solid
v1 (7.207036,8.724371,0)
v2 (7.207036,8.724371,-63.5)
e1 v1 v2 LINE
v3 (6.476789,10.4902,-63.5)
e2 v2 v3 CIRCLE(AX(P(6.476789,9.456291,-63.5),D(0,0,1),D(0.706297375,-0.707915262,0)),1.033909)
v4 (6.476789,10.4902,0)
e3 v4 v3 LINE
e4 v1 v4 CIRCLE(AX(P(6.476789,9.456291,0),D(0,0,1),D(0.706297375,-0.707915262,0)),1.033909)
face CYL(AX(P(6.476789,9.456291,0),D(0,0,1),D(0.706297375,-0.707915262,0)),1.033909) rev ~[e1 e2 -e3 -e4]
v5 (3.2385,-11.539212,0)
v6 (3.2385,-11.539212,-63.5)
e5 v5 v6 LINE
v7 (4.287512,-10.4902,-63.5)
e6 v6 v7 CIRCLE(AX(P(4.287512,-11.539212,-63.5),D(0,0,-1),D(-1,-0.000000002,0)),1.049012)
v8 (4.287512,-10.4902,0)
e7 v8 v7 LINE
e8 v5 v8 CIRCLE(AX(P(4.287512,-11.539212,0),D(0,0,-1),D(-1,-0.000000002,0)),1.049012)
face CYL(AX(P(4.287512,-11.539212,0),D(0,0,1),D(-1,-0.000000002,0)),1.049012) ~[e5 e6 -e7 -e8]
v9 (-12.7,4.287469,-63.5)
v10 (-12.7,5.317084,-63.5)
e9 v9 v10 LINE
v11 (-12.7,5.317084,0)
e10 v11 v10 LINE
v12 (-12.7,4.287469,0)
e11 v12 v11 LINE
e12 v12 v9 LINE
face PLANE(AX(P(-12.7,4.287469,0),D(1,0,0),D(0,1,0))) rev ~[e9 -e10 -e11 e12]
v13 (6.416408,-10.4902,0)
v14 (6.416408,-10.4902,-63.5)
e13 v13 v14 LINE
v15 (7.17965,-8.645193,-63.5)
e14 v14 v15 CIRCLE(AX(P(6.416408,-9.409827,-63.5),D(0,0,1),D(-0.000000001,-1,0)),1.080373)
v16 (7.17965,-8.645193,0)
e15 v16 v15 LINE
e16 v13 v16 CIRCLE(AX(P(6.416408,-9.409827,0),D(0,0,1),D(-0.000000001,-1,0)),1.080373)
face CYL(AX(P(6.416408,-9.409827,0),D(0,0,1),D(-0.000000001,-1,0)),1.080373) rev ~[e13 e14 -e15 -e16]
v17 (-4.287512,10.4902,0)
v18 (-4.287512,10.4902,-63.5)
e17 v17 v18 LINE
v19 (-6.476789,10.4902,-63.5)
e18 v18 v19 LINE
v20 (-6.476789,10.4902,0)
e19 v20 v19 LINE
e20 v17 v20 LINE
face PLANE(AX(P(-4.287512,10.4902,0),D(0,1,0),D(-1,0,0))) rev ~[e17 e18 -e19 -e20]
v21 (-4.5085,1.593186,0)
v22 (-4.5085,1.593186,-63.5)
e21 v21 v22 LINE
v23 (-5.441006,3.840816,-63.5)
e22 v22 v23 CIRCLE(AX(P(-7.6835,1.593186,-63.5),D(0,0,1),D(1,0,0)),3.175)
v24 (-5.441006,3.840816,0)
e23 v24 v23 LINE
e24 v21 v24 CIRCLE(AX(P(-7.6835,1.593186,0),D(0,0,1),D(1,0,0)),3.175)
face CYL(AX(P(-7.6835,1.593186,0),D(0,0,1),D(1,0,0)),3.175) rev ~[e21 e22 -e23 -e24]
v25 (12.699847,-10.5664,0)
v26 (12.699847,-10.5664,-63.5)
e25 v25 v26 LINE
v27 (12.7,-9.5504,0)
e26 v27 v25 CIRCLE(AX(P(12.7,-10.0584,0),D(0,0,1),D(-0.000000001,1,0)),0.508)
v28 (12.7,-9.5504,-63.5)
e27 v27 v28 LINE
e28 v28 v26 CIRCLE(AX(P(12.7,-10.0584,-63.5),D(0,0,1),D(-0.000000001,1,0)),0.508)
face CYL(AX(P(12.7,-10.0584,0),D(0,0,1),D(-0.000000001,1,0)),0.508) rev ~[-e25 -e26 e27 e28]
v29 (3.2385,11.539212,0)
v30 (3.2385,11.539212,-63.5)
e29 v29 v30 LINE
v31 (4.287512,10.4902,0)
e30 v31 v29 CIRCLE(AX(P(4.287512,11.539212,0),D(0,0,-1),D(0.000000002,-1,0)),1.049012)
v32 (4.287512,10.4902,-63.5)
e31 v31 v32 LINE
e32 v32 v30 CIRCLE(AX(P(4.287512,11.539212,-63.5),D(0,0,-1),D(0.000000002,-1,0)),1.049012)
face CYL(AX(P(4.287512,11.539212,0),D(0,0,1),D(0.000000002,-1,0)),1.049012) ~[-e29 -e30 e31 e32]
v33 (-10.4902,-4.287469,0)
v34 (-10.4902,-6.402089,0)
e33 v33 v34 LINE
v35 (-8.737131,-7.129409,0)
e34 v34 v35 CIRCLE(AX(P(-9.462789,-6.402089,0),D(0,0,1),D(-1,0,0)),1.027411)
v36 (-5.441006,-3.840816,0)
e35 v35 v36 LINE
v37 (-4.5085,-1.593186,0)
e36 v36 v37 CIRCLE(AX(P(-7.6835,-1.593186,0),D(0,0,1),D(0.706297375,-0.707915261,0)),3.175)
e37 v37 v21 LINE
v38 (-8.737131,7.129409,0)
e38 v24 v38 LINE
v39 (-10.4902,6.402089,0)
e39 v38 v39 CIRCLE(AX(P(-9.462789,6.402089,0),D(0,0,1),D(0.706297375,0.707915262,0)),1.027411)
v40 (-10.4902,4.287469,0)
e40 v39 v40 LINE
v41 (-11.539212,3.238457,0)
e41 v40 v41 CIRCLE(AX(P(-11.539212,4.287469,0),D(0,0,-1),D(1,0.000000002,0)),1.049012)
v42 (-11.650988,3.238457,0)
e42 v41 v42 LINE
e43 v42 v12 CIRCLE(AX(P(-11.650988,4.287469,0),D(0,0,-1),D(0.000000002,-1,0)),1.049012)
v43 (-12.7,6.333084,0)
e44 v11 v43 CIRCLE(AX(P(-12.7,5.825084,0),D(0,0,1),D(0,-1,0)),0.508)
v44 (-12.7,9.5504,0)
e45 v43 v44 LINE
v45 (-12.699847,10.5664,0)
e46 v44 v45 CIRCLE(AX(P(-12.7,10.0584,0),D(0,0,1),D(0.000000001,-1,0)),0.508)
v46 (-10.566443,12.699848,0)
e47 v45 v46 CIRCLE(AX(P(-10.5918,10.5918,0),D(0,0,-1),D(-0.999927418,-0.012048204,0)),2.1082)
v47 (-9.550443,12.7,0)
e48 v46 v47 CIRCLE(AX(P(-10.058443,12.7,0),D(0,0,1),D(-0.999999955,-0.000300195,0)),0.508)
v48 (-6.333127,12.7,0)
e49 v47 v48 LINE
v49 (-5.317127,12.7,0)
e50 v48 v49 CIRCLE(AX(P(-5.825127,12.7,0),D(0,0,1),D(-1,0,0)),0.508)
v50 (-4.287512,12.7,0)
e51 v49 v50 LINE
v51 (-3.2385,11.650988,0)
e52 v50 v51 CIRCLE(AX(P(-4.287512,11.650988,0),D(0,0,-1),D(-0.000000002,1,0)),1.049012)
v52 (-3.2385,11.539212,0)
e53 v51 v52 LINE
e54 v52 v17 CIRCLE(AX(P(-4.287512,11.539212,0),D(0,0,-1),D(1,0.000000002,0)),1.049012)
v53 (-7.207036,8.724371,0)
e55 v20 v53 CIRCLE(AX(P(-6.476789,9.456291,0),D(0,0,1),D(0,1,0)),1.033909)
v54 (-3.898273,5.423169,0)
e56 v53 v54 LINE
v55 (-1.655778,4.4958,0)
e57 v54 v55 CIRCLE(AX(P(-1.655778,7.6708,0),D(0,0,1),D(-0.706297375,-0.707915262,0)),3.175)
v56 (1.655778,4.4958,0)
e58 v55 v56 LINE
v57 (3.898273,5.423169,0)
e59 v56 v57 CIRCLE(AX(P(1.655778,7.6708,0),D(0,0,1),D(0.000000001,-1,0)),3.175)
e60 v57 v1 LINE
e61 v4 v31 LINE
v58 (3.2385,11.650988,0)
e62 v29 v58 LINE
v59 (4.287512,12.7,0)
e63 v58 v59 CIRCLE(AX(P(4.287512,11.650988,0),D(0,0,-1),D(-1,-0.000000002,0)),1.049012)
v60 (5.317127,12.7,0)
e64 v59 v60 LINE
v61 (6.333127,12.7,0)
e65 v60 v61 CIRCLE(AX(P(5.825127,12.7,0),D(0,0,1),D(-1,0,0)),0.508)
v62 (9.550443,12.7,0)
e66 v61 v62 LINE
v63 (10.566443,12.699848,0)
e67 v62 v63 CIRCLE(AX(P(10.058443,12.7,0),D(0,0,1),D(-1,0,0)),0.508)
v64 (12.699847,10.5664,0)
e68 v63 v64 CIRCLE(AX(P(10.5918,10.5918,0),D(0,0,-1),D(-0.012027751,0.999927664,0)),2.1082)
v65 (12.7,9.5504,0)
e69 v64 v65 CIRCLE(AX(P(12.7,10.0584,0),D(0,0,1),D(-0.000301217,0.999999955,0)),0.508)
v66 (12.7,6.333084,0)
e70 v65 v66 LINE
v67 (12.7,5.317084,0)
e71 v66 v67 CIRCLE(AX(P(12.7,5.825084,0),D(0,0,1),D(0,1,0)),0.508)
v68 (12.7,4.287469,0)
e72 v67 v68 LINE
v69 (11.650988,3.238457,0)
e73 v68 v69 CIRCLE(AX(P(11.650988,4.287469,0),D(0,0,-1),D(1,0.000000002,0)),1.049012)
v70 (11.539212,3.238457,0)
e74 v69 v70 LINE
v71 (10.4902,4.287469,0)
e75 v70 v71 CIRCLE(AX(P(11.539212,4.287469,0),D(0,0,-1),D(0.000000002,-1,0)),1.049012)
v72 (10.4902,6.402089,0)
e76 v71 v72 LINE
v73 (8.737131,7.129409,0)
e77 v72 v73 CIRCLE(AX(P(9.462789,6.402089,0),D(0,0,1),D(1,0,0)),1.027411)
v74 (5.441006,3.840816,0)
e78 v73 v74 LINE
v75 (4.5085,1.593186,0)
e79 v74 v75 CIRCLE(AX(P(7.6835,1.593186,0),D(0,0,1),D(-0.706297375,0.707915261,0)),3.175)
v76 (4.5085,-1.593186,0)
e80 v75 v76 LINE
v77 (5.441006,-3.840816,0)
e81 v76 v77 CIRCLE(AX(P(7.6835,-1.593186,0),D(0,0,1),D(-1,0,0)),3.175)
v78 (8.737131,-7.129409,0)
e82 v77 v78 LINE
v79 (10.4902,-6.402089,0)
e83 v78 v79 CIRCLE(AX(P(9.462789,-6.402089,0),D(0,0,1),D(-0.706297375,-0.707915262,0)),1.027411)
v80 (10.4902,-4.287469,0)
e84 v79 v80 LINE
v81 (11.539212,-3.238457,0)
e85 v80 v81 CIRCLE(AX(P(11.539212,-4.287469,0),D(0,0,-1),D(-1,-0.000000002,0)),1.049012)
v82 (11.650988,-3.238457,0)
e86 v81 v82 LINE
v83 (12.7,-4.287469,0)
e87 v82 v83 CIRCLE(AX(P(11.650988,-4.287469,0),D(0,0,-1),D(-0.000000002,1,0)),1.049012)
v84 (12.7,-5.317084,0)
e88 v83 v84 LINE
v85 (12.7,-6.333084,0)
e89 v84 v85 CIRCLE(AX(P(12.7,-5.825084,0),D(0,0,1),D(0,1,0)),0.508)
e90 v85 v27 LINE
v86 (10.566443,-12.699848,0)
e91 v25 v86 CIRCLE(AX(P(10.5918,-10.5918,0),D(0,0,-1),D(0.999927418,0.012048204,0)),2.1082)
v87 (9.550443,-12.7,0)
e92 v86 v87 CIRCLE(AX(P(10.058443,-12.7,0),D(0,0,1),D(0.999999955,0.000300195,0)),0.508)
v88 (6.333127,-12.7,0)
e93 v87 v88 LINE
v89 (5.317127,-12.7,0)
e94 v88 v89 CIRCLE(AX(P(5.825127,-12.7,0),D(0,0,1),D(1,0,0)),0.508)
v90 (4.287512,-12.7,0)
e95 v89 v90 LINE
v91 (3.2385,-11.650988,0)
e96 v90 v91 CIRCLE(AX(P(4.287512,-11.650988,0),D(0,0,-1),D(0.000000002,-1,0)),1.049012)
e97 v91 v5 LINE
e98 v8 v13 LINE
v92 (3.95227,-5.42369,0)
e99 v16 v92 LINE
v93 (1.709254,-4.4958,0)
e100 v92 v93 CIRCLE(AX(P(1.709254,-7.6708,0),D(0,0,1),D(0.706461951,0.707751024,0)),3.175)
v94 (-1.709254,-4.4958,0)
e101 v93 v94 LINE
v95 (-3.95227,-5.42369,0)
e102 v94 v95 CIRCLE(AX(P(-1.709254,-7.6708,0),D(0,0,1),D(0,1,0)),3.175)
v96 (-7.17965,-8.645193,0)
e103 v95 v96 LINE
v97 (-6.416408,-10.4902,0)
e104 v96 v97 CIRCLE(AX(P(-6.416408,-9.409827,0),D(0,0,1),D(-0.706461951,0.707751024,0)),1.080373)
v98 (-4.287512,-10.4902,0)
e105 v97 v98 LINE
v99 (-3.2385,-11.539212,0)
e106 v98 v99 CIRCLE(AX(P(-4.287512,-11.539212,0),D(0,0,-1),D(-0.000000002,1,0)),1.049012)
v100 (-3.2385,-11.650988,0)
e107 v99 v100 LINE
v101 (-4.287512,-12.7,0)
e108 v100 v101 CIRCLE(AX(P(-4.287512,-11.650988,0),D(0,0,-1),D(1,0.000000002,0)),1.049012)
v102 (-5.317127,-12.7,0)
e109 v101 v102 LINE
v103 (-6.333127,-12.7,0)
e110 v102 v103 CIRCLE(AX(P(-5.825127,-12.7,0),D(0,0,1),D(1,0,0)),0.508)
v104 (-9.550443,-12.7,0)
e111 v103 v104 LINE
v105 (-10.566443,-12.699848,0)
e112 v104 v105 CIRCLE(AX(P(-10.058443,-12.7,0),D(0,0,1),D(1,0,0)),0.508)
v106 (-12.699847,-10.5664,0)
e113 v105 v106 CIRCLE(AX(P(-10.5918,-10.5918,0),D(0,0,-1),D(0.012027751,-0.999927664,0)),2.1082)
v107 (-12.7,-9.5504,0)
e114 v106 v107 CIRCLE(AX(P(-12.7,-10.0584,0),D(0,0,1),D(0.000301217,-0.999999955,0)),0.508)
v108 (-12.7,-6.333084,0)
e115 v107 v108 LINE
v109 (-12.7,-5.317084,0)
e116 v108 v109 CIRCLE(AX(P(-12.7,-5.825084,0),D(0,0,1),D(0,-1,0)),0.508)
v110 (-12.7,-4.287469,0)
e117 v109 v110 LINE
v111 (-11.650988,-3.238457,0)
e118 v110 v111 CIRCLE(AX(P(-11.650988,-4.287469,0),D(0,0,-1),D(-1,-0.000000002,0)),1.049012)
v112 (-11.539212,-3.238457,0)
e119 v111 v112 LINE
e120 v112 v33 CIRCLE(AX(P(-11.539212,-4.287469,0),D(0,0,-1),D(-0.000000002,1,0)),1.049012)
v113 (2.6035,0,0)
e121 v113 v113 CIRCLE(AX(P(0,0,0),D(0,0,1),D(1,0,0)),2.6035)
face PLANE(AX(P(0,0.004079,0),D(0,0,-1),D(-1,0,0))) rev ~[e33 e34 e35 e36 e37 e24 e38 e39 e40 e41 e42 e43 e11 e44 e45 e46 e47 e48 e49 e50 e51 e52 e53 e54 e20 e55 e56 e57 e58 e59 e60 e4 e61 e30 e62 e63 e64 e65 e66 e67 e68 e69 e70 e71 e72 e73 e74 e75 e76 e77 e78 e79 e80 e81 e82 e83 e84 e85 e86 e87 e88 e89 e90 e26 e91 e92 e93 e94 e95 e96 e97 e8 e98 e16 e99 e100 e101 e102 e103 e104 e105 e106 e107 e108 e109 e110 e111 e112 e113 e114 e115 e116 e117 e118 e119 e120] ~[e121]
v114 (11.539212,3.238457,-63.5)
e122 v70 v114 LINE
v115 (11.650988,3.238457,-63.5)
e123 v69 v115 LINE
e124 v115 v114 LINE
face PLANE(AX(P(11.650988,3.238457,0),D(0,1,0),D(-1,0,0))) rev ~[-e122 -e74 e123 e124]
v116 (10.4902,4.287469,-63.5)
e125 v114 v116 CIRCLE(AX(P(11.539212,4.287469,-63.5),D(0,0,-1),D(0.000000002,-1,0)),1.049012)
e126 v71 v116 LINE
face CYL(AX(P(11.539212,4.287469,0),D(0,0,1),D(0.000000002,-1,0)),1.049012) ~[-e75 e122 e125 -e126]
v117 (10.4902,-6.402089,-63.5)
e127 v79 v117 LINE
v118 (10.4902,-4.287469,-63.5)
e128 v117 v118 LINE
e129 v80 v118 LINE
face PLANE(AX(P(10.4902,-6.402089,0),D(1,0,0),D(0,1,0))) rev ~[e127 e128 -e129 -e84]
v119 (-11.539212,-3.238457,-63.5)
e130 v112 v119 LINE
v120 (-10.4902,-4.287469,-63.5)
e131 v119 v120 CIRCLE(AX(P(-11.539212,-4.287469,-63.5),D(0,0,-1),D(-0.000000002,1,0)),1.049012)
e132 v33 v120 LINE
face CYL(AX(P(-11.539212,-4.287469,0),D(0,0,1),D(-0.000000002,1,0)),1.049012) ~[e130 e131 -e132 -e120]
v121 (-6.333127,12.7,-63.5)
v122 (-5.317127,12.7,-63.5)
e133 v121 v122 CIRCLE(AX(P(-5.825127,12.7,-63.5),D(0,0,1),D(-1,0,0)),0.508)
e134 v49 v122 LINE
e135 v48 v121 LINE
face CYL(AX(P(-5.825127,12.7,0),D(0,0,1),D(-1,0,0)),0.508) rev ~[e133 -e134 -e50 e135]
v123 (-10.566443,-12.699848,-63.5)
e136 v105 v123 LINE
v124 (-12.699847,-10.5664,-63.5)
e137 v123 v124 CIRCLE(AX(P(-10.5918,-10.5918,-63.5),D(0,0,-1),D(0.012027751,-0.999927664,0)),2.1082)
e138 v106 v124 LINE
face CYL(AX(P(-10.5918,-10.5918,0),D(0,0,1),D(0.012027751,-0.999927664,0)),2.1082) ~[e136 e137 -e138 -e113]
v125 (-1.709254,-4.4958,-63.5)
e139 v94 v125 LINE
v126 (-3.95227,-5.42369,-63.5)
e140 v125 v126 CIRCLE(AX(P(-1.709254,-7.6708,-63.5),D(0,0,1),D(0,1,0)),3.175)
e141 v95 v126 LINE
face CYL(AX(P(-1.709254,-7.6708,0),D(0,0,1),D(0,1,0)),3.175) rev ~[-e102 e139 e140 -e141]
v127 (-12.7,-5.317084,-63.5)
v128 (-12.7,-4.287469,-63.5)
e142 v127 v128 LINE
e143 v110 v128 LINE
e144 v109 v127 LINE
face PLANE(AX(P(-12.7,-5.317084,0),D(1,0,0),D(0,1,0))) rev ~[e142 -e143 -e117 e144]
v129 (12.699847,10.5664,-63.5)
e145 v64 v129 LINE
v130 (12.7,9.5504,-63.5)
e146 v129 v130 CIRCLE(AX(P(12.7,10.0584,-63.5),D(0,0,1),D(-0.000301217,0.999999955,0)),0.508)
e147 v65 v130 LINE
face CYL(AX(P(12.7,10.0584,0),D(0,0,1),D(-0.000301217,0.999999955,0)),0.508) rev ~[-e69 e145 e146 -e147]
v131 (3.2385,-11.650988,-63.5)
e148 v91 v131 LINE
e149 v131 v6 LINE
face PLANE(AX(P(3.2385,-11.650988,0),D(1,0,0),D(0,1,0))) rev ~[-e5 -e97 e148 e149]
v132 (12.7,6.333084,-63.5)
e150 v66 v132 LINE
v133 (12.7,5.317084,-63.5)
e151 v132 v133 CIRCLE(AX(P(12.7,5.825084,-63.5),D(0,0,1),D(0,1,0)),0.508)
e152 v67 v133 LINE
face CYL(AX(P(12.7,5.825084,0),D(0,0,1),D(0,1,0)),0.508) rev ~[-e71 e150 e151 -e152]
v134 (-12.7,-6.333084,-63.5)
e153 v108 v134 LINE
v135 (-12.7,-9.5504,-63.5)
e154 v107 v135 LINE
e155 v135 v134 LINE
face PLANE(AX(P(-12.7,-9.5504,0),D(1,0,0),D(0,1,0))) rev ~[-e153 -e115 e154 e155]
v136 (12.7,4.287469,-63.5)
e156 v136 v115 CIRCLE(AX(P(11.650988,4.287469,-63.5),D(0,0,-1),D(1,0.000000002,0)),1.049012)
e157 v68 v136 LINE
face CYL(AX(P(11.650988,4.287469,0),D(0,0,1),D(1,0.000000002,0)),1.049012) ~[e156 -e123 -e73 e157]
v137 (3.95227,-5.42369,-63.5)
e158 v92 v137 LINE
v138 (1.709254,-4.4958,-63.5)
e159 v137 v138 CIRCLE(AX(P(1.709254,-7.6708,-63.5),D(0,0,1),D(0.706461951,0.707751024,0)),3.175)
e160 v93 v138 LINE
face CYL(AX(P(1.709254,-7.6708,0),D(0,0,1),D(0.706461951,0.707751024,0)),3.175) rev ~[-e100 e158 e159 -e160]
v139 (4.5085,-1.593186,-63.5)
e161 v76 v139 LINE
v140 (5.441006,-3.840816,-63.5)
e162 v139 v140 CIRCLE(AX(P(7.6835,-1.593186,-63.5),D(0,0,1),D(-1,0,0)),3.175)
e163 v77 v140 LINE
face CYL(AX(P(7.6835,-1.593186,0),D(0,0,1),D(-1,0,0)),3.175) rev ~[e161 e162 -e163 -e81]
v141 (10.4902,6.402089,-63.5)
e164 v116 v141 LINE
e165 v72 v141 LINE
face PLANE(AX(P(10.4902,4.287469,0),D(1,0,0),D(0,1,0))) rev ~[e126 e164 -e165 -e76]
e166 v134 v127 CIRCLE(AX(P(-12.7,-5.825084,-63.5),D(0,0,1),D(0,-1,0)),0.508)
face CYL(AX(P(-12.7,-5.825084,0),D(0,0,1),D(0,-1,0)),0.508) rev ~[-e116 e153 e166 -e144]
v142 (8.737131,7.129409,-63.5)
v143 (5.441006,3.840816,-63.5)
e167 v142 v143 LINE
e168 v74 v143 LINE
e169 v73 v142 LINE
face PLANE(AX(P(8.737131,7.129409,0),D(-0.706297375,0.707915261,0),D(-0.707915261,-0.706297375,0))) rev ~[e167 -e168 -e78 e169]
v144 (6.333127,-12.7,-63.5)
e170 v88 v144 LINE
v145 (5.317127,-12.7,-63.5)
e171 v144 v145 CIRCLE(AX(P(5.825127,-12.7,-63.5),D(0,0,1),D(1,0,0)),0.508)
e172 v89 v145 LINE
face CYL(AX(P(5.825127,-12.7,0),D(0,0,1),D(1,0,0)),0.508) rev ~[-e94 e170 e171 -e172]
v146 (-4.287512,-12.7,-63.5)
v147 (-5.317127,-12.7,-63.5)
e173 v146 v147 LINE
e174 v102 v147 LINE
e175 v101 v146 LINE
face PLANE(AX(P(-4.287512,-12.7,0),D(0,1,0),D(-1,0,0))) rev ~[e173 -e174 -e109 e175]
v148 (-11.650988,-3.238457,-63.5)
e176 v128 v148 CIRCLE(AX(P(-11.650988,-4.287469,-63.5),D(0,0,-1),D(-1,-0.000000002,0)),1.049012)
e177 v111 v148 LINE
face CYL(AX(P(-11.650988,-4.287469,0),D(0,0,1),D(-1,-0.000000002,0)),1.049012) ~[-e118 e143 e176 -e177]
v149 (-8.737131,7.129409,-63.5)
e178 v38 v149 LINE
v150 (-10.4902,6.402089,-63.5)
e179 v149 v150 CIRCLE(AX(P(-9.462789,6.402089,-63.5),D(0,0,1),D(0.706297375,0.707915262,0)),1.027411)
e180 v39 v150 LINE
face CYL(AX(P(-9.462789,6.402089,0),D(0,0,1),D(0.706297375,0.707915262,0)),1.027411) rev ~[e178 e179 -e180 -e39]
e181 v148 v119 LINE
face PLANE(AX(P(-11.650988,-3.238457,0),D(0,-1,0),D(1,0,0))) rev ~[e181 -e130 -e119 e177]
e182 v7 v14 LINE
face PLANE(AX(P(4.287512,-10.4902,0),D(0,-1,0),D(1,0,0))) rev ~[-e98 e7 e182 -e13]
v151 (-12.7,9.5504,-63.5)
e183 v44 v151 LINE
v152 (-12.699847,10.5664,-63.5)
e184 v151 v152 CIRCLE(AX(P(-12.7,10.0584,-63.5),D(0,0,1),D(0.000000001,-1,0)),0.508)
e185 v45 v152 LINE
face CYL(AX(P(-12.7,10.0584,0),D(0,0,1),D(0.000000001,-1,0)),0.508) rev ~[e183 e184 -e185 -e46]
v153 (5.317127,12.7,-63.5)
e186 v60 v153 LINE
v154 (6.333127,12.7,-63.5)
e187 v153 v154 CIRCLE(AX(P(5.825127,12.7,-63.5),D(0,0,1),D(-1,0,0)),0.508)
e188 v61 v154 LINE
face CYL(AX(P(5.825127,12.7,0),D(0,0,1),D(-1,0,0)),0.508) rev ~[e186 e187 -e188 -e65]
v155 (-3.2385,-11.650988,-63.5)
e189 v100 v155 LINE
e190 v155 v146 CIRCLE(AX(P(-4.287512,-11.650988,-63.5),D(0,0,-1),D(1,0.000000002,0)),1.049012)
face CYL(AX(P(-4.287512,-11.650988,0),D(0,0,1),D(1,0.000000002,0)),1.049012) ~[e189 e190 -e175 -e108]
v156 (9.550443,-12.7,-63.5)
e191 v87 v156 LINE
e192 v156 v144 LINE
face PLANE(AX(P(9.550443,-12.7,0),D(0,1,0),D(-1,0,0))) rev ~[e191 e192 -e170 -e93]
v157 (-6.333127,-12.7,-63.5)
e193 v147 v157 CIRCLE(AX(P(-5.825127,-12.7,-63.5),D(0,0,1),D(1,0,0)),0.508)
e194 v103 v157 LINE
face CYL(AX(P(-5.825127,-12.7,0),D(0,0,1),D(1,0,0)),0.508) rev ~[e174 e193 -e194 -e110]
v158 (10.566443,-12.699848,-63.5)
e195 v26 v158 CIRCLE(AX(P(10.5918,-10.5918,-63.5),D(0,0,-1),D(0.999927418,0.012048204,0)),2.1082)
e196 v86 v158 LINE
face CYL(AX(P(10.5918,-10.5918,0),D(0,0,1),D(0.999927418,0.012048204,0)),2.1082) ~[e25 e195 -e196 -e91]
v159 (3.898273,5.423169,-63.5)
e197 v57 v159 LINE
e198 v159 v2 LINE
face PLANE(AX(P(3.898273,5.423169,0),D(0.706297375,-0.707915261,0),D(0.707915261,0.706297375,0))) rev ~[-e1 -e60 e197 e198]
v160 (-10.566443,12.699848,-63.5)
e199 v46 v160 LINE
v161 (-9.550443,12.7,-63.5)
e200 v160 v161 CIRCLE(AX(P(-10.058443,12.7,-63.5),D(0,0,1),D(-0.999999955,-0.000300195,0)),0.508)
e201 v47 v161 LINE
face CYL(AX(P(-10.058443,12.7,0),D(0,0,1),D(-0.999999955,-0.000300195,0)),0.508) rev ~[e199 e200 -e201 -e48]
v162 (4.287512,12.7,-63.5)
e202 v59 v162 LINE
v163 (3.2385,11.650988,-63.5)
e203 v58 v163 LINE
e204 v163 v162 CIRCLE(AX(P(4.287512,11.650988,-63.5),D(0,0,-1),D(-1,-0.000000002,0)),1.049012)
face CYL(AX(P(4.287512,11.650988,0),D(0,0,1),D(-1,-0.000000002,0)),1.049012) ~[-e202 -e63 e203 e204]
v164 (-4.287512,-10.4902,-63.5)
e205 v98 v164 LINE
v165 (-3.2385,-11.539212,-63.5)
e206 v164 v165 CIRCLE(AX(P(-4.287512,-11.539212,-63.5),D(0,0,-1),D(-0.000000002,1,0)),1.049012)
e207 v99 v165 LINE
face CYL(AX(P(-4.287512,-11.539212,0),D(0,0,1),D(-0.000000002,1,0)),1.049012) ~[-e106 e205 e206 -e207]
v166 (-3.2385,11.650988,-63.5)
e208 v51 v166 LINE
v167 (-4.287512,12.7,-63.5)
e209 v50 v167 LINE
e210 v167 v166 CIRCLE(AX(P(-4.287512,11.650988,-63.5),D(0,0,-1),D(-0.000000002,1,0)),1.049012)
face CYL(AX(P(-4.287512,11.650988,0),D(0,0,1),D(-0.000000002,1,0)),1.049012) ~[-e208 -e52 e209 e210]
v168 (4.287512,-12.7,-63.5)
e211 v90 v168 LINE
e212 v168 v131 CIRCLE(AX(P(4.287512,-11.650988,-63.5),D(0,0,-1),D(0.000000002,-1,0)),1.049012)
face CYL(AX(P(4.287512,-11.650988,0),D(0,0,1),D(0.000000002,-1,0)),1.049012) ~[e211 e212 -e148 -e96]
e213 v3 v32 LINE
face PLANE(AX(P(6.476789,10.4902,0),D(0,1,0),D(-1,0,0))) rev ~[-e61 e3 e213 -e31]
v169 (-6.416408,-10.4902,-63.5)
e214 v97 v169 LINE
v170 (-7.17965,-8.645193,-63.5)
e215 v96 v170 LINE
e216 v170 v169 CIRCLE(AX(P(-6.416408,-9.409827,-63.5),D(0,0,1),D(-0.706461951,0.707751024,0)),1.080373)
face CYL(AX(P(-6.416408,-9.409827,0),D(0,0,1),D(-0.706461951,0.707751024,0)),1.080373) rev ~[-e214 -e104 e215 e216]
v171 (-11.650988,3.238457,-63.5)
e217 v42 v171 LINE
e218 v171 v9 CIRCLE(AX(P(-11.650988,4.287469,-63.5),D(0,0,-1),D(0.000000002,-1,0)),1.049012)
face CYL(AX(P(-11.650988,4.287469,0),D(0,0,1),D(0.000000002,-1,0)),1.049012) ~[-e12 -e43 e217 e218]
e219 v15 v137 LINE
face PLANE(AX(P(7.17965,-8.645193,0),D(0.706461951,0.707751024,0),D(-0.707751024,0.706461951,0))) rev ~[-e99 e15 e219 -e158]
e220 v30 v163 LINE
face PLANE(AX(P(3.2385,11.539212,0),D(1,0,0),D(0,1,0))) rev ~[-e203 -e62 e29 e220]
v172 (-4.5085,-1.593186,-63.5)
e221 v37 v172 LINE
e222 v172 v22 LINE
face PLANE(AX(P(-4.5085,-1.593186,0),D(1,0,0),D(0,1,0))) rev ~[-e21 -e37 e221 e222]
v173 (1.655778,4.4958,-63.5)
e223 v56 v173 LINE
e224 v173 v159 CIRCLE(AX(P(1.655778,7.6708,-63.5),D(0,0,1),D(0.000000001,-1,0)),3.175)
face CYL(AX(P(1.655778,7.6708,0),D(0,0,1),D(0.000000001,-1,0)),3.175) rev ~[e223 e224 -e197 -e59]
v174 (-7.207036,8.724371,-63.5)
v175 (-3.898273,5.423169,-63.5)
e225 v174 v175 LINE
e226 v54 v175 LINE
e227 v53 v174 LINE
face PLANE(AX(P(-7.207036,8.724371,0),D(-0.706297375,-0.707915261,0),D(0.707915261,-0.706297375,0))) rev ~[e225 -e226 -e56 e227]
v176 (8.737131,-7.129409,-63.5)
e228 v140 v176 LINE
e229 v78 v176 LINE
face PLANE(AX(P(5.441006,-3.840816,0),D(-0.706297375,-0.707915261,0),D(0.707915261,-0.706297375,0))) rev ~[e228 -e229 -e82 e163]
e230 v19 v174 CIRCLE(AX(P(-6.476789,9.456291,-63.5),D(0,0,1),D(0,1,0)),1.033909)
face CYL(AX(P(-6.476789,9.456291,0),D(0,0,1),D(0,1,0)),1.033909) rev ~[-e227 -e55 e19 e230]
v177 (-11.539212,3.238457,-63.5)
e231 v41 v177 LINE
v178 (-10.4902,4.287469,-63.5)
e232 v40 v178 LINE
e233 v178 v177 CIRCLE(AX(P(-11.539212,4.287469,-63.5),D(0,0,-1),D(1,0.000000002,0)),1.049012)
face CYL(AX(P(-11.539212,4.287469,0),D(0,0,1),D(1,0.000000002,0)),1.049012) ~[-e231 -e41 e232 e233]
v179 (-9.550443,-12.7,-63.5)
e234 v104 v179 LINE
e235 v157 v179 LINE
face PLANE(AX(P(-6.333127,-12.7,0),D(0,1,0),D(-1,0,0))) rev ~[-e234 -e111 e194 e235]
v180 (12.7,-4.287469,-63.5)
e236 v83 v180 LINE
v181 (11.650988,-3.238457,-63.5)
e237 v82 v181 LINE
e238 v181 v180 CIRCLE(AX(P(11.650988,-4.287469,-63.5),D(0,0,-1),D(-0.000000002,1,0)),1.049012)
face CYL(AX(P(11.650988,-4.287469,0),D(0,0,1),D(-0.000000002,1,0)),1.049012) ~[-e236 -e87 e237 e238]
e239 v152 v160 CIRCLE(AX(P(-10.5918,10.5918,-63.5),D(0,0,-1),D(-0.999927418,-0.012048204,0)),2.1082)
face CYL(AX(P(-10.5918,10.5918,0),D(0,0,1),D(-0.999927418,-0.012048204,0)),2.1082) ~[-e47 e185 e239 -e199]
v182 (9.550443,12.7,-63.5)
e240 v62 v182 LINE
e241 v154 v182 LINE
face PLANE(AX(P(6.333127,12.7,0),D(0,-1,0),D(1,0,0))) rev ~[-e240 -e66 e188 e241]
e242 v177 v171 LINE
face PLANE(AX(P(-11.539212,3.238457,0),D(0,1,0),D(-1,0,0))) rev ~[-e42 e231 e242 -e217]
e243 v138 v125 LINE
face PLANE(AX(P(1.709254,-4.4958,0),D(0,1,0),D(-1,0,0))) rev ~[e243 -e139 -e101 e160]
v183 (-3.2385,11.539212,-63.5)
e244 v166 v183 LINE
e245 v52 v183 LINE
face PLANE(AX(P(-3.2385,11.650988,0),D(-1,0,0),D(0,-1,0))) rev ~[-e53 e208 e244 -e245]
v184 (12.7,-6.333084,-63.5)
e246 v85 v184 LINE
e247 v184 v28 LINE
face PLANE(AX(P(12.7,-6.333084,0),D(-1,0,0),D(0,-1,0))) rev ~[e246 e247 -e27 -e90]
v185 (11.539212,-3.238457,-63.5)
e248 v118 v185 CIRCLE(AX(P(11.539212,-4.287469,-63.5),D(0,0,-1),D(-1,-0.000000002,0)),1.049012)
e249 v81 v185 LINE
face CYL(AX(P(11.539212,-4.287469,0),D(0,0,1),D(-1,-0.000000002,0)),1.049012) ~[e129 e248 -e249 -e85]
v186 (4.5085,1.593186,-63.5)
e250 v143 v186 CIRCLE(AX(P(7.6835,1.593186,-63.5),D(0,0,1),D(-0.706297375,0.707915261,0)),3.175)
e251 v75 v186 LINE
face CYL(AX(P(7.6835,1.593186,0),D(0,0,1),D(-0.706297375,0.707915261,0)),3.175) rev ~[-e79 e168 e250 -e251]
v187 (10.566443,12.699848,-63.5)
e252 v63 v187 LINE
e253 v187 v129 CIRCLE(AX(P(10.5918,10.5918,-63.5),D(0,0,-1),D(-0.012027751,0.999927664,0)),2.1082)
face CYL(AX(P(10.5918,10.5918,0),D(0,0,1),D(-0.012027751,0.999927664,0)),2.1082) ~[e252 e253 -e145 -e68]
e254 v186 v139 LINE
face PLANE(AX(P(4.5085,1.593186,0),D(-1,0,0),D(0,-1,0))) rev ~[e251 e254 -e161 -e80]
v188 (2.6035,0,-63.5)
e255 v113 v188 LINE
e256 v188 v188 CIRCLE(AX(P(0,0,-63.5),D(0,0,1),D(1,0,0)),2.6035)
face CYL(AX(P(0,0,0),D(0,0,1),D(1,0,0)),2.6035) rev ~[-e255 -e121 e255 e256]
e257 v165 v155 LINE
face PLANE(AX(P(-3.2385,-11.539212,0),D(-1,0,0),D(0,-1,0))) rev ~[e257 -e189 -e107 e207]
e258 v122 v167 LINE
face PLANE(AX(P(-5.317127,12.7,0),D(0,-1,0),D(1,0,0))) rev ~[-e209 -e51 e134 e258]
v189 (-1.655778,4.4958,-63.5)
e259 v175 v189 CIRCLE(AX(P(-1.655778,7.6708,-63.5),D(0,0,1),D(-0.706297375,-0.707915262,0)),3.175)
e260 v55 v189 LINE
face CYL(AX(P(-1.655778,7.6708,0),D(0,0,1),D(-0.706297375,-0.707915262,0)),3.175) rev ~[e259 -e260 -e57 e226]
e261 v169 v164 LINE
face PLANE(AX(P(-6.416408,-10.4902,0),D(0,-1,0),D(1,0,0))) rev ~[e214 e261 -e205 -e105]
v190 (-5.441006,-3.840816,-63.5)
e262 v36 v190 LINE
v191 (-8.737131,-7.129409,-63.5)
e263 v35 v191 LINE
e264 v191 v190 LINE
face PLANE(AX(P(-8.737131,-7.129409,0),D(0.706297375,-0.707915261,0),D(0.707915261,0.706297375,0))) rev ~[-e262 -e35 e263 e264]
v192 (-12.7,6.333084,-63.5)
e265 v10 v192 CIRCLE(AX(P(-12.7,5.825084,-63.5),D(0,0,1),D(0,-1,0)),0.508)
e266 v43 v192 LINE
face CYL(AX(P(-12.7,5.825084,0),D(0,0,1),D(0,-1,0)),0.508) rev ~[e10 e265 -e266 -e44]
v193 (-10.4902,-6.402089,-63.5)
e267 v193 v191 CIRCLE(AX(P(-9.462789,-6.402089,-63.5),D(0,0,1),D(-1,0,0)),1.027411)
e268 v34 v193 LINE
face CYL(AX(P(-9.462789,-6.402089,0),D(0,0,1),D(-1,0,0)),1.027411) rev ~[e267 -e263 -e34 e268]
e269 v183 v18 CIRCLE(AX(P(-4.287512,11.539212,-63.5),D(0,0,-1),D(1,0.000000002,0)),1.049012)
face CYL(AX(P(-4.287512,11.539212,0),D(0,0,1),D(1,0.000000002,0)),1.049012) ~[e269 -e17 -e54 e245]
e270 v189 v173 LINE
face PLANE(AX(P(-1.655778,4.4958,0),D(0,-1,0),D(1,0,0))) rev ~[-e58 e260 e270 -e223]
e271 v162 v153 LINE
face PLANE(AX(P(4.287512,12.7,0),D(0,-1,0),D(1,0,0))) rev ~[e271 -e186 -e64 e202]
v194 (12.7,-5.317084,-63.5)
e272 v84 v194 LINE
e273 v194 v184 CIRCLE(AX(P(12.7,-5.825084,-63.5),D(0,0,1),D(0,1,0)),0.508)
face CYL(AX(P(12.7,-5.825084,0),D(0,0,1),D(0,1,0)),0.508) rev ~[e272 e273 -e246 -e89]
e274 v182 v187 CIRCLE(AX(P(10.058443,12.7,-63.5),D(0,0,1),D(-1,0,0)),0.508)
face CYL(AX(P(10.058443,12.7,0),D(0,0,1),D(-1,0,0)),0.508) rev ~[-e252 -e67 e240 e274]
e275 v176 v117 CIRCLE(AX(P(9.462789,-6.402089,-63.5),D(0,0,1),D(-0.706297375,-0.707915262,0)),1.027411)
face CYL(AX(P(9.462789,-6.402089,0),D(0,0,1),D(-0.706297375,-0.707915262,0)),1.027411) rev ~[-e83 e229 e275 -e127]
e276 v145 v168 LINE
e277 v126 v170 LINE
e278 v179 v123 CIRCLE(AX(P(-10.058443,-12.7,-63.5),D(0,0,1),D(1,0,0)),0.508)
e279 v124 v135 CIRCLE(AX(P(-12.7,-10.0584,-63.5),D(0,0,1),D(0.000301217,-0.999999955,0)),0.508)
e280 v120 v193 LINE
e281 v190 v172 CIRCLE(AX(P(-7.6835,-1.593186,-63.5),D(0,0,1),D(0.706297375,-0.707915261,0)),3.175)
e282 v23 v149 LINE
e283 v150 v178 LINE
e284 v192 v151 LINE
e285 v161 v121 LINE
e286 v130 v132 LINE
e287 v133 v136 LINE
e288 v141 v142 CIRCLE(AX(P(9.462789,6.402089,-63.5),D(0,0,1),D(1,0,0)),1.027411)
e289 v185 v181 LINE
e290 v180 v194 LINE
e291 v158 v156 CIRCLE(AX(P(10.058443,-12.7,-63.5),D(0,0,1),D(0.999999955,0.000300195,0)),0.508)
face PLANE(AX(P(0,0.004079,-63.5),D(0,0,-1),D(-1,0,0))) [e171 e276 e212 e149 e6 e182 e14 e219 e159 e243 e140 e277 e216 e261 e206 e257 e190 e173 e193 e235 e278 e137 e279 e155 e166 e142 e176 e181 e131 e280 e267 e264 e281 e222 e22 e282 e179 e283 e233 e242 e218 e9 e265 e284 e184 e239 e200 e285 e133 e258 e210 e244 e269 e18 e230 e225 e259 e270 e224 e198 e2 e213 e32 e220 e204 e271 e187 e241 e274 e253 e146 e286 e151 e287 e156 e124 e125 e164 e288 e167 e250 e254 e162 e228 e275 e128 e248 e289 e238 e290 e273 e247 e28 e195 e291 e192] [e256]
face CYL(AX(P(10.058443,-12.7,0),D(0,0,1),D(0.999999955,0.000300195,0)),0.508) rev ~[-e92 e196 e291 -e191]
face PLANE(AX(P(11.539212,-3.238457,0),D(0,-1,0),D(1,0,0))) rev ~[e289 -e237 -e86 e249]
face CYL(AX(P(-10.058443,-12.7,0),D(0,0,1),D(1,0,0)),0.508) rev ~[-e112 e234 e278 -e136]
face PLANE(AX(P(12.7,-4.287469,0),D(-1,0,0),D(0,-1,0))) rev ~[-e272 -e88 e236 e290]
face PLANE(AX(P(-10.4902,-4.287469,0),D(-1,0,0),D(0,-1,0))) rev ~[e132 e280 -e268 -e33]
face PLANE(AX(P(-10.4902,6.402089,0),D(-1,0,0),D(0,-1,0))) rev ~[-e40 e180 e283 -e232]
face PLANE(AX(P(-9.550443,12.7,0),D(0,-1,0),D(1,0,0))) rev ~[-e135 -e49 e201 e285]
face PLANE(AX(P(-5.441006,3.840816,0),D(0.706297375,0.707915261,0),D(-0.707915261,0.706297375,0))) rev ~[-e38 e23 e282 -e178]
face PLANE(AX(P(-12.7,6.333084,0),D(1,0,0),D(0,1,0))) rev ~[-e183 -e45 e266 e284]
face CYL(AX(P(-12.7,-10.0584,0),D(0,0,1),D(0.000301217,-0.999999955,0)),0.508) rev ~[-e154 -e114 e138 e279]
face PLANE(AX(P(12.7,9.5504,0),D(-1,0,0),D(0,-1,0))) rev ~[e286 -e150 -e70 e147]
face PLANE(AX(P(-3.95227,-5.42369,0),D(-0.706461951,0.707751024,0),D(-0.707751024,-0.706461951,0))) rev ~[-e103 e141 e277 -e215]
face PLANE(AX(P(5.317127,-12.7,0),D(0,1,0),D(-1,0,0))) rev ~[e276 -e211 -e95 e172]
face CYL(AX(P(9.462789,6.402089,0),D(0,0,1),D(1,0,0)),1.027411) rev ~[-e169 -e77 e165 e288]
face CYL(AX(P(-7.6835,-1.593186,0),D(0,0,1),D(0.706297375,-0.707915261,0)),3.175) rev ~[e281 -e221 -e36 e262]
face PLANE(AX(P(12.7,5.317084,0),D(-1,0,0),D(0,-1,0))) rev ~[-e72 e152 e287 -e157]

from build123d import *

# Parameters (mm, degrees)
SKETCH1_R      = 2.6035
EXTRUDE1_DEPTH = 63.5


with BuildPart() as part:
    # Sketch1 → Extrude1 (new body)
    with BuildSketch(Plane.XY):
        with BuildLine():
            Line((-7.207036008, 8.724370562), (-3.898272566, 5.423169045))
            ThreePointArc((-3.898272566, 5.423169045), (-2.869120213, 4.736787962), (-1.655778399, 4.4958))
            Line((-1.655778399, 4.4958), (1.655778399, 4.4958))
            ThreePointArc((1.655778399, 4.4958), (2.869120213, 4.736787962), (3.898272566, 5.423169045))
            Line((3.898272566, 5.423169045), (7.207036008, 8.724370562))
            ThreePointArc((7.207036008, 8.724370562), (7.432222385, 9.85140422), (6.476788598, 10.4902))
            Line((6.476788598, 10.4902), (4.287512407, 10.4902))
            ThreePointArc((4.287512407, 10.4902), (3.54574862, 10.79744862), (3.2385, 11.539212407))
            Line((3.2385, 11.539212407), (3.2385, 11.650987593))
            ThreePointArc((3.2385, 11.650987593), (3.54574862, 12.39275138), (4.287512407, 12.7))
            Line((4.287512407, 12.7), (5.317126718, 12.7))
            ThreePointArc((5.317126718, 12.7), (5.825126718, 12.192), (6.333126718, 12.7))
            Line((6.333126718, 12.7), (9.550443118, 12.7))
            ThreePointArc((9.550443118, 12.7), (10.058366869, 12.192000006), (10.566443095, 12.699847501))
            ThreePointArc((10.566443095, 12.699847501), (12.082537762, 12.08250727), (12.699846982, 10.566399977))
            ThreePointArc((12.699846982, 10.566399977), (12.192000006, 10.058323491), (12.7, 9.5504))
            Line((12.7, 9.5504), (12.7, 6.3330836))
            ThreePointArc((12.7, 6.3330836), (12.192, 5.8250836), (12.7, 5.3170836))
            Line((12.7, 5.3170836), (12.7, 4.287469289))
            ThreePointArc((12.7, 4.287469289), (12.39275138, 3.545705502), (11.650987593, 3.238456882))
            Line((11.650987593, 3.238456882), (11.539212407, 3.238456882))
            ThreePointArc((11.539212407, 3.238456882), (10.79744862, 3.545705502), (10.4902, 4.287469289))
            Line((10.4902, 4.287469289), (10.4902, 6.402089023))
            ThreePointArc((10.4902, 6.402089023), (9.856505071, 7.351067942), (8.737131347, 7.129408934))
            Line((8.737131347, 7.129408934), (5.441005833, 3.840816462))
            ThreePointArc((5.441005833, 3.840816462), (4.750877967, 2.809883091), (4.5085, 1.593185507))
            Line((4.5085, 1.593185507), (4.5085, -1.593185507))
            ThreePointArc((4.5085, -1.593185507), (4.750877967, -2.809883091), (5.441005833, -3.840816462))
            Line((5.441005833, -3.840816462), (8.737131347, -7.129408934))
            ThreePointArc((8.737131347, -7.129408934), (9.856505071, -7.351067942), (10.4902, -6.402089023))
            Line((10.4902, -6.402089023), (10.4902, -4.287469289))
            ThreePointArc((10.4902, -4.287469289), (10.79744862, -3.545705502), (11.539212407, -3.238456882))
            Line((11.539212407, -3.238456882), (11.650987593, -3.238456882))
            ThreePointArc((11.650987593, -3.238456882), (12.39275138, -3.545705502), (12.7, -4.287469289))
            Line((12.7, -4.287469289), (12.7, -5.3170836))
            ThreePointArc((12.7, -5.3170836), (12.192, -5.8250836), (12.7, -6.3330836))
            Line((12.7, -6.3330836), (12.7, -9.5504))
            ThreePointArc((12.7, -9.5504), (12.192000006, -10.058323491), (12.699846982, -10.566399977))
            ThreePointArc((12.699846982, -10.566399977), (12.082537762, -12.08250727), (10.566443095, -12.699847501))
            ThreePointArc((10.566443095, -12.699847501), (10.058366869, -12.192000006), (9.550443118, -12.7))
            Line((9.550443118, -12.7), (6.333126718, -12.7))
            ThreePointArc((6.333126718, -12.7), (5.825126718, -12.192), (5.317126718, -12.7))
            Line((5.317126718, -12.7), (4.287512407, -12.7))
            ThreePointArc((4.287512407, -12.7), (3.54574862, -12.39275138), (3.2385, -11.650987593))
            Line((3.2385, -11.650987593), (3.2385, -11.539212407))
            ThreePointArc((3.2385, -11.539212407), (3.54574862, -10.79744862), (4.287512407, -10.4902))
            Line((4.287512407, -10.4902), (6.416408329, -10.4902))
            ThreePointArc((6.416408329, -10.4902), (7.41473083, -9.822813117), (7.179650497, -8.645192506))
            Line((7.179650497, -8.645192506), (3.952270251, -5.423690499))
            ThreePointArc((3.952270251, -5.423690499), (2.922936451, -4.736929036), (1.709253557, -4.4958))
            Line((1.709253557, -4.4958), (-1.709253557, -4.4958))
            ThreePointArc((-1.709253557, -4.4958), (-2.922936451, -4.736929036), (-3.952270251, -5.423690499))
            Line((-3.952270251, -5.423690499), (-7.179650497, -8.645192506))
            ThreePointArc((-7.179650497, -8.645192506), (-7.41473083, -9.822813117), (-6.416408329, -10.4902))
            Line((-6.416408329, -10.4902), (-4.287512407, -10.4902))
            ThreePointArc((-4.287512407, -10.4902), (-3.54574862, -10.79744862), (-3.2385, -11.539212407))
            Line((-3.2385, -11.539212407), (-3.2385, -11.650987593))
            ThreePointArc((-3.2385, -11.650987593), (-3.54574862, -12.39275138), (-4.287512407, -12.7))
            Line((-4.287512407, -12.7), (-5.317126718, -12.7))
            ThreePointArc((-5.317126718, -12.7), (-5.825126718, -12.192), (-6.333126718, -12.7))
            Line((-6.333126718, -12.7), (-9.550443118, -12.7))
            ThreePointArc((-9.550443118, -12.7), (-10.058366869, -12.192000006), (-10.566443095, -12.699847501))
            ThreePointArc((-10.566443095, -12.699847501), (-12.082537762, -12.08250727), (-12.699846982, -10.566399977))
            ThreePointArc((-12.699846982, -10.566399977), (-12.192000006, -10.058323491), (-12.7, -9.5504))
            Line((-12.7, -9.5504), (-12.7, -6.3330836))
            ThreePointArc((-12.7, -6.3330836), (-12.192, -5.8250836), (-12.7, -5.3170836))
            Line((-12.7, -5.3170836), (-12.7, -4.287469289))
            ThreePointArc((-12.7, -4.287469289), (-12.39275138, -3.545705502), (-11.650987593, -3.238456882))
            Line((-11.650987593, -3.238456882), (-11.539212407, -3.238456882))
            ThreePointArc((-11.539212407, -3.238456882), (-10.79744862, -3.545705502), (-10.4902, -4.287469289))
            Line((-10.4902, -4.287469289), (-10.4902, -6.402089023))
            ThreePointArc((-10.4902, -6.402089023), (-9.856505071, -7.351067942), (-8.737131347, -7.129408934))
            Line((-8.737131347, -7.129408934), (-5.441005833, -3.840816462))
            ThreePointArc((-5.441005833, -3.840816462), (-4.750877967, -2.809883091), (-4.5085, -1.593185507))
            Line((-4.5085, -1.593185507), (-4.5085, 1.593185507))
            ThreePointArc((-4.5085, 1.593185507), (-4.750877967, 2.809883091), (-5.441005833, 3.840816462))
            Line((-5.441005833, 3.840816462), (-8.737131347, 7.129408934))
            ThreePointArc((-8.737131347, 7.129408934), (-9.856505071, 7.351067942), (-10.4902, 6.402089023))
            Line((-10.4902, 6.402089023), (-10.4902, 4.287469289))
            ThreePointArc((-10.4902, 4.287469289), (-10.79744862, 3.545705502), (-11.539212407, 3.238456882))
            Line((-11.539212407, 3.238456882), (-11.650987593, 3.238456882))
            ThreePointArc((-11.650987593, 3.238456882), (-12.39275138, 3.545705502), (-12.7, 4.287469289))
            Line((-12.7, 4.287469289), (-12.7, 5.3170836))
            ThreePointArc((-12.7, 5.3170836), (-12.192, 5.8250836), (-12.7, 6.3330836))
            Line((-12.7, 6.3330836), (-12.7, 9.5504))
            ThreePointArc((-12.7, 9.5504), (-12.192000006, 10.058323491), (-12.699846982, 10.566399977))
            ThreePointArc((-12.699846982, 10.566399977), (-12.082537762, 12.08250727), (-10.566443095, 12.699847501))
            ThreePointArc((-10.566443095, 12.699847501), (-10.058366869, 12.192000006), (-9.550443118, 12.7))
            Line((-9.550443118, 12.7), (-6.333126718, 12.7))
            ThreePointArc((-6.333126718, 12.7), (-5.825126718, 12.192), (-5.317126718, 12.7))
            Line((-5.317126718, 12.7), (-4.287512407, 12.7))
            ThreePointArc((-4.287512407, 12.7), (-3.54574862, 12.39275138), (-3.2385, 11.650987593))
            Line((-3.2385, 11.650987593), (-3.2385, 11.539212407))
            ThreePointArc((-3.2385, 11.539212407), (-3.54574862, 10.79744862), (-4.287512407, 10.4902))
            Line((-4.287512407, 10.4902), (-6.476788598, 10.4902))
            ThreePointArc((-6.476788598, 10.4902), (-7.432222385, 9.85140422), (-7.207036008, 8.724370562))
        make_face()
        Circle(SKETCH1_R, mode=Mode.SUBTRACT)
    extrude(amount=-EXTRUDE1_DEPTH)


solid = part.part
